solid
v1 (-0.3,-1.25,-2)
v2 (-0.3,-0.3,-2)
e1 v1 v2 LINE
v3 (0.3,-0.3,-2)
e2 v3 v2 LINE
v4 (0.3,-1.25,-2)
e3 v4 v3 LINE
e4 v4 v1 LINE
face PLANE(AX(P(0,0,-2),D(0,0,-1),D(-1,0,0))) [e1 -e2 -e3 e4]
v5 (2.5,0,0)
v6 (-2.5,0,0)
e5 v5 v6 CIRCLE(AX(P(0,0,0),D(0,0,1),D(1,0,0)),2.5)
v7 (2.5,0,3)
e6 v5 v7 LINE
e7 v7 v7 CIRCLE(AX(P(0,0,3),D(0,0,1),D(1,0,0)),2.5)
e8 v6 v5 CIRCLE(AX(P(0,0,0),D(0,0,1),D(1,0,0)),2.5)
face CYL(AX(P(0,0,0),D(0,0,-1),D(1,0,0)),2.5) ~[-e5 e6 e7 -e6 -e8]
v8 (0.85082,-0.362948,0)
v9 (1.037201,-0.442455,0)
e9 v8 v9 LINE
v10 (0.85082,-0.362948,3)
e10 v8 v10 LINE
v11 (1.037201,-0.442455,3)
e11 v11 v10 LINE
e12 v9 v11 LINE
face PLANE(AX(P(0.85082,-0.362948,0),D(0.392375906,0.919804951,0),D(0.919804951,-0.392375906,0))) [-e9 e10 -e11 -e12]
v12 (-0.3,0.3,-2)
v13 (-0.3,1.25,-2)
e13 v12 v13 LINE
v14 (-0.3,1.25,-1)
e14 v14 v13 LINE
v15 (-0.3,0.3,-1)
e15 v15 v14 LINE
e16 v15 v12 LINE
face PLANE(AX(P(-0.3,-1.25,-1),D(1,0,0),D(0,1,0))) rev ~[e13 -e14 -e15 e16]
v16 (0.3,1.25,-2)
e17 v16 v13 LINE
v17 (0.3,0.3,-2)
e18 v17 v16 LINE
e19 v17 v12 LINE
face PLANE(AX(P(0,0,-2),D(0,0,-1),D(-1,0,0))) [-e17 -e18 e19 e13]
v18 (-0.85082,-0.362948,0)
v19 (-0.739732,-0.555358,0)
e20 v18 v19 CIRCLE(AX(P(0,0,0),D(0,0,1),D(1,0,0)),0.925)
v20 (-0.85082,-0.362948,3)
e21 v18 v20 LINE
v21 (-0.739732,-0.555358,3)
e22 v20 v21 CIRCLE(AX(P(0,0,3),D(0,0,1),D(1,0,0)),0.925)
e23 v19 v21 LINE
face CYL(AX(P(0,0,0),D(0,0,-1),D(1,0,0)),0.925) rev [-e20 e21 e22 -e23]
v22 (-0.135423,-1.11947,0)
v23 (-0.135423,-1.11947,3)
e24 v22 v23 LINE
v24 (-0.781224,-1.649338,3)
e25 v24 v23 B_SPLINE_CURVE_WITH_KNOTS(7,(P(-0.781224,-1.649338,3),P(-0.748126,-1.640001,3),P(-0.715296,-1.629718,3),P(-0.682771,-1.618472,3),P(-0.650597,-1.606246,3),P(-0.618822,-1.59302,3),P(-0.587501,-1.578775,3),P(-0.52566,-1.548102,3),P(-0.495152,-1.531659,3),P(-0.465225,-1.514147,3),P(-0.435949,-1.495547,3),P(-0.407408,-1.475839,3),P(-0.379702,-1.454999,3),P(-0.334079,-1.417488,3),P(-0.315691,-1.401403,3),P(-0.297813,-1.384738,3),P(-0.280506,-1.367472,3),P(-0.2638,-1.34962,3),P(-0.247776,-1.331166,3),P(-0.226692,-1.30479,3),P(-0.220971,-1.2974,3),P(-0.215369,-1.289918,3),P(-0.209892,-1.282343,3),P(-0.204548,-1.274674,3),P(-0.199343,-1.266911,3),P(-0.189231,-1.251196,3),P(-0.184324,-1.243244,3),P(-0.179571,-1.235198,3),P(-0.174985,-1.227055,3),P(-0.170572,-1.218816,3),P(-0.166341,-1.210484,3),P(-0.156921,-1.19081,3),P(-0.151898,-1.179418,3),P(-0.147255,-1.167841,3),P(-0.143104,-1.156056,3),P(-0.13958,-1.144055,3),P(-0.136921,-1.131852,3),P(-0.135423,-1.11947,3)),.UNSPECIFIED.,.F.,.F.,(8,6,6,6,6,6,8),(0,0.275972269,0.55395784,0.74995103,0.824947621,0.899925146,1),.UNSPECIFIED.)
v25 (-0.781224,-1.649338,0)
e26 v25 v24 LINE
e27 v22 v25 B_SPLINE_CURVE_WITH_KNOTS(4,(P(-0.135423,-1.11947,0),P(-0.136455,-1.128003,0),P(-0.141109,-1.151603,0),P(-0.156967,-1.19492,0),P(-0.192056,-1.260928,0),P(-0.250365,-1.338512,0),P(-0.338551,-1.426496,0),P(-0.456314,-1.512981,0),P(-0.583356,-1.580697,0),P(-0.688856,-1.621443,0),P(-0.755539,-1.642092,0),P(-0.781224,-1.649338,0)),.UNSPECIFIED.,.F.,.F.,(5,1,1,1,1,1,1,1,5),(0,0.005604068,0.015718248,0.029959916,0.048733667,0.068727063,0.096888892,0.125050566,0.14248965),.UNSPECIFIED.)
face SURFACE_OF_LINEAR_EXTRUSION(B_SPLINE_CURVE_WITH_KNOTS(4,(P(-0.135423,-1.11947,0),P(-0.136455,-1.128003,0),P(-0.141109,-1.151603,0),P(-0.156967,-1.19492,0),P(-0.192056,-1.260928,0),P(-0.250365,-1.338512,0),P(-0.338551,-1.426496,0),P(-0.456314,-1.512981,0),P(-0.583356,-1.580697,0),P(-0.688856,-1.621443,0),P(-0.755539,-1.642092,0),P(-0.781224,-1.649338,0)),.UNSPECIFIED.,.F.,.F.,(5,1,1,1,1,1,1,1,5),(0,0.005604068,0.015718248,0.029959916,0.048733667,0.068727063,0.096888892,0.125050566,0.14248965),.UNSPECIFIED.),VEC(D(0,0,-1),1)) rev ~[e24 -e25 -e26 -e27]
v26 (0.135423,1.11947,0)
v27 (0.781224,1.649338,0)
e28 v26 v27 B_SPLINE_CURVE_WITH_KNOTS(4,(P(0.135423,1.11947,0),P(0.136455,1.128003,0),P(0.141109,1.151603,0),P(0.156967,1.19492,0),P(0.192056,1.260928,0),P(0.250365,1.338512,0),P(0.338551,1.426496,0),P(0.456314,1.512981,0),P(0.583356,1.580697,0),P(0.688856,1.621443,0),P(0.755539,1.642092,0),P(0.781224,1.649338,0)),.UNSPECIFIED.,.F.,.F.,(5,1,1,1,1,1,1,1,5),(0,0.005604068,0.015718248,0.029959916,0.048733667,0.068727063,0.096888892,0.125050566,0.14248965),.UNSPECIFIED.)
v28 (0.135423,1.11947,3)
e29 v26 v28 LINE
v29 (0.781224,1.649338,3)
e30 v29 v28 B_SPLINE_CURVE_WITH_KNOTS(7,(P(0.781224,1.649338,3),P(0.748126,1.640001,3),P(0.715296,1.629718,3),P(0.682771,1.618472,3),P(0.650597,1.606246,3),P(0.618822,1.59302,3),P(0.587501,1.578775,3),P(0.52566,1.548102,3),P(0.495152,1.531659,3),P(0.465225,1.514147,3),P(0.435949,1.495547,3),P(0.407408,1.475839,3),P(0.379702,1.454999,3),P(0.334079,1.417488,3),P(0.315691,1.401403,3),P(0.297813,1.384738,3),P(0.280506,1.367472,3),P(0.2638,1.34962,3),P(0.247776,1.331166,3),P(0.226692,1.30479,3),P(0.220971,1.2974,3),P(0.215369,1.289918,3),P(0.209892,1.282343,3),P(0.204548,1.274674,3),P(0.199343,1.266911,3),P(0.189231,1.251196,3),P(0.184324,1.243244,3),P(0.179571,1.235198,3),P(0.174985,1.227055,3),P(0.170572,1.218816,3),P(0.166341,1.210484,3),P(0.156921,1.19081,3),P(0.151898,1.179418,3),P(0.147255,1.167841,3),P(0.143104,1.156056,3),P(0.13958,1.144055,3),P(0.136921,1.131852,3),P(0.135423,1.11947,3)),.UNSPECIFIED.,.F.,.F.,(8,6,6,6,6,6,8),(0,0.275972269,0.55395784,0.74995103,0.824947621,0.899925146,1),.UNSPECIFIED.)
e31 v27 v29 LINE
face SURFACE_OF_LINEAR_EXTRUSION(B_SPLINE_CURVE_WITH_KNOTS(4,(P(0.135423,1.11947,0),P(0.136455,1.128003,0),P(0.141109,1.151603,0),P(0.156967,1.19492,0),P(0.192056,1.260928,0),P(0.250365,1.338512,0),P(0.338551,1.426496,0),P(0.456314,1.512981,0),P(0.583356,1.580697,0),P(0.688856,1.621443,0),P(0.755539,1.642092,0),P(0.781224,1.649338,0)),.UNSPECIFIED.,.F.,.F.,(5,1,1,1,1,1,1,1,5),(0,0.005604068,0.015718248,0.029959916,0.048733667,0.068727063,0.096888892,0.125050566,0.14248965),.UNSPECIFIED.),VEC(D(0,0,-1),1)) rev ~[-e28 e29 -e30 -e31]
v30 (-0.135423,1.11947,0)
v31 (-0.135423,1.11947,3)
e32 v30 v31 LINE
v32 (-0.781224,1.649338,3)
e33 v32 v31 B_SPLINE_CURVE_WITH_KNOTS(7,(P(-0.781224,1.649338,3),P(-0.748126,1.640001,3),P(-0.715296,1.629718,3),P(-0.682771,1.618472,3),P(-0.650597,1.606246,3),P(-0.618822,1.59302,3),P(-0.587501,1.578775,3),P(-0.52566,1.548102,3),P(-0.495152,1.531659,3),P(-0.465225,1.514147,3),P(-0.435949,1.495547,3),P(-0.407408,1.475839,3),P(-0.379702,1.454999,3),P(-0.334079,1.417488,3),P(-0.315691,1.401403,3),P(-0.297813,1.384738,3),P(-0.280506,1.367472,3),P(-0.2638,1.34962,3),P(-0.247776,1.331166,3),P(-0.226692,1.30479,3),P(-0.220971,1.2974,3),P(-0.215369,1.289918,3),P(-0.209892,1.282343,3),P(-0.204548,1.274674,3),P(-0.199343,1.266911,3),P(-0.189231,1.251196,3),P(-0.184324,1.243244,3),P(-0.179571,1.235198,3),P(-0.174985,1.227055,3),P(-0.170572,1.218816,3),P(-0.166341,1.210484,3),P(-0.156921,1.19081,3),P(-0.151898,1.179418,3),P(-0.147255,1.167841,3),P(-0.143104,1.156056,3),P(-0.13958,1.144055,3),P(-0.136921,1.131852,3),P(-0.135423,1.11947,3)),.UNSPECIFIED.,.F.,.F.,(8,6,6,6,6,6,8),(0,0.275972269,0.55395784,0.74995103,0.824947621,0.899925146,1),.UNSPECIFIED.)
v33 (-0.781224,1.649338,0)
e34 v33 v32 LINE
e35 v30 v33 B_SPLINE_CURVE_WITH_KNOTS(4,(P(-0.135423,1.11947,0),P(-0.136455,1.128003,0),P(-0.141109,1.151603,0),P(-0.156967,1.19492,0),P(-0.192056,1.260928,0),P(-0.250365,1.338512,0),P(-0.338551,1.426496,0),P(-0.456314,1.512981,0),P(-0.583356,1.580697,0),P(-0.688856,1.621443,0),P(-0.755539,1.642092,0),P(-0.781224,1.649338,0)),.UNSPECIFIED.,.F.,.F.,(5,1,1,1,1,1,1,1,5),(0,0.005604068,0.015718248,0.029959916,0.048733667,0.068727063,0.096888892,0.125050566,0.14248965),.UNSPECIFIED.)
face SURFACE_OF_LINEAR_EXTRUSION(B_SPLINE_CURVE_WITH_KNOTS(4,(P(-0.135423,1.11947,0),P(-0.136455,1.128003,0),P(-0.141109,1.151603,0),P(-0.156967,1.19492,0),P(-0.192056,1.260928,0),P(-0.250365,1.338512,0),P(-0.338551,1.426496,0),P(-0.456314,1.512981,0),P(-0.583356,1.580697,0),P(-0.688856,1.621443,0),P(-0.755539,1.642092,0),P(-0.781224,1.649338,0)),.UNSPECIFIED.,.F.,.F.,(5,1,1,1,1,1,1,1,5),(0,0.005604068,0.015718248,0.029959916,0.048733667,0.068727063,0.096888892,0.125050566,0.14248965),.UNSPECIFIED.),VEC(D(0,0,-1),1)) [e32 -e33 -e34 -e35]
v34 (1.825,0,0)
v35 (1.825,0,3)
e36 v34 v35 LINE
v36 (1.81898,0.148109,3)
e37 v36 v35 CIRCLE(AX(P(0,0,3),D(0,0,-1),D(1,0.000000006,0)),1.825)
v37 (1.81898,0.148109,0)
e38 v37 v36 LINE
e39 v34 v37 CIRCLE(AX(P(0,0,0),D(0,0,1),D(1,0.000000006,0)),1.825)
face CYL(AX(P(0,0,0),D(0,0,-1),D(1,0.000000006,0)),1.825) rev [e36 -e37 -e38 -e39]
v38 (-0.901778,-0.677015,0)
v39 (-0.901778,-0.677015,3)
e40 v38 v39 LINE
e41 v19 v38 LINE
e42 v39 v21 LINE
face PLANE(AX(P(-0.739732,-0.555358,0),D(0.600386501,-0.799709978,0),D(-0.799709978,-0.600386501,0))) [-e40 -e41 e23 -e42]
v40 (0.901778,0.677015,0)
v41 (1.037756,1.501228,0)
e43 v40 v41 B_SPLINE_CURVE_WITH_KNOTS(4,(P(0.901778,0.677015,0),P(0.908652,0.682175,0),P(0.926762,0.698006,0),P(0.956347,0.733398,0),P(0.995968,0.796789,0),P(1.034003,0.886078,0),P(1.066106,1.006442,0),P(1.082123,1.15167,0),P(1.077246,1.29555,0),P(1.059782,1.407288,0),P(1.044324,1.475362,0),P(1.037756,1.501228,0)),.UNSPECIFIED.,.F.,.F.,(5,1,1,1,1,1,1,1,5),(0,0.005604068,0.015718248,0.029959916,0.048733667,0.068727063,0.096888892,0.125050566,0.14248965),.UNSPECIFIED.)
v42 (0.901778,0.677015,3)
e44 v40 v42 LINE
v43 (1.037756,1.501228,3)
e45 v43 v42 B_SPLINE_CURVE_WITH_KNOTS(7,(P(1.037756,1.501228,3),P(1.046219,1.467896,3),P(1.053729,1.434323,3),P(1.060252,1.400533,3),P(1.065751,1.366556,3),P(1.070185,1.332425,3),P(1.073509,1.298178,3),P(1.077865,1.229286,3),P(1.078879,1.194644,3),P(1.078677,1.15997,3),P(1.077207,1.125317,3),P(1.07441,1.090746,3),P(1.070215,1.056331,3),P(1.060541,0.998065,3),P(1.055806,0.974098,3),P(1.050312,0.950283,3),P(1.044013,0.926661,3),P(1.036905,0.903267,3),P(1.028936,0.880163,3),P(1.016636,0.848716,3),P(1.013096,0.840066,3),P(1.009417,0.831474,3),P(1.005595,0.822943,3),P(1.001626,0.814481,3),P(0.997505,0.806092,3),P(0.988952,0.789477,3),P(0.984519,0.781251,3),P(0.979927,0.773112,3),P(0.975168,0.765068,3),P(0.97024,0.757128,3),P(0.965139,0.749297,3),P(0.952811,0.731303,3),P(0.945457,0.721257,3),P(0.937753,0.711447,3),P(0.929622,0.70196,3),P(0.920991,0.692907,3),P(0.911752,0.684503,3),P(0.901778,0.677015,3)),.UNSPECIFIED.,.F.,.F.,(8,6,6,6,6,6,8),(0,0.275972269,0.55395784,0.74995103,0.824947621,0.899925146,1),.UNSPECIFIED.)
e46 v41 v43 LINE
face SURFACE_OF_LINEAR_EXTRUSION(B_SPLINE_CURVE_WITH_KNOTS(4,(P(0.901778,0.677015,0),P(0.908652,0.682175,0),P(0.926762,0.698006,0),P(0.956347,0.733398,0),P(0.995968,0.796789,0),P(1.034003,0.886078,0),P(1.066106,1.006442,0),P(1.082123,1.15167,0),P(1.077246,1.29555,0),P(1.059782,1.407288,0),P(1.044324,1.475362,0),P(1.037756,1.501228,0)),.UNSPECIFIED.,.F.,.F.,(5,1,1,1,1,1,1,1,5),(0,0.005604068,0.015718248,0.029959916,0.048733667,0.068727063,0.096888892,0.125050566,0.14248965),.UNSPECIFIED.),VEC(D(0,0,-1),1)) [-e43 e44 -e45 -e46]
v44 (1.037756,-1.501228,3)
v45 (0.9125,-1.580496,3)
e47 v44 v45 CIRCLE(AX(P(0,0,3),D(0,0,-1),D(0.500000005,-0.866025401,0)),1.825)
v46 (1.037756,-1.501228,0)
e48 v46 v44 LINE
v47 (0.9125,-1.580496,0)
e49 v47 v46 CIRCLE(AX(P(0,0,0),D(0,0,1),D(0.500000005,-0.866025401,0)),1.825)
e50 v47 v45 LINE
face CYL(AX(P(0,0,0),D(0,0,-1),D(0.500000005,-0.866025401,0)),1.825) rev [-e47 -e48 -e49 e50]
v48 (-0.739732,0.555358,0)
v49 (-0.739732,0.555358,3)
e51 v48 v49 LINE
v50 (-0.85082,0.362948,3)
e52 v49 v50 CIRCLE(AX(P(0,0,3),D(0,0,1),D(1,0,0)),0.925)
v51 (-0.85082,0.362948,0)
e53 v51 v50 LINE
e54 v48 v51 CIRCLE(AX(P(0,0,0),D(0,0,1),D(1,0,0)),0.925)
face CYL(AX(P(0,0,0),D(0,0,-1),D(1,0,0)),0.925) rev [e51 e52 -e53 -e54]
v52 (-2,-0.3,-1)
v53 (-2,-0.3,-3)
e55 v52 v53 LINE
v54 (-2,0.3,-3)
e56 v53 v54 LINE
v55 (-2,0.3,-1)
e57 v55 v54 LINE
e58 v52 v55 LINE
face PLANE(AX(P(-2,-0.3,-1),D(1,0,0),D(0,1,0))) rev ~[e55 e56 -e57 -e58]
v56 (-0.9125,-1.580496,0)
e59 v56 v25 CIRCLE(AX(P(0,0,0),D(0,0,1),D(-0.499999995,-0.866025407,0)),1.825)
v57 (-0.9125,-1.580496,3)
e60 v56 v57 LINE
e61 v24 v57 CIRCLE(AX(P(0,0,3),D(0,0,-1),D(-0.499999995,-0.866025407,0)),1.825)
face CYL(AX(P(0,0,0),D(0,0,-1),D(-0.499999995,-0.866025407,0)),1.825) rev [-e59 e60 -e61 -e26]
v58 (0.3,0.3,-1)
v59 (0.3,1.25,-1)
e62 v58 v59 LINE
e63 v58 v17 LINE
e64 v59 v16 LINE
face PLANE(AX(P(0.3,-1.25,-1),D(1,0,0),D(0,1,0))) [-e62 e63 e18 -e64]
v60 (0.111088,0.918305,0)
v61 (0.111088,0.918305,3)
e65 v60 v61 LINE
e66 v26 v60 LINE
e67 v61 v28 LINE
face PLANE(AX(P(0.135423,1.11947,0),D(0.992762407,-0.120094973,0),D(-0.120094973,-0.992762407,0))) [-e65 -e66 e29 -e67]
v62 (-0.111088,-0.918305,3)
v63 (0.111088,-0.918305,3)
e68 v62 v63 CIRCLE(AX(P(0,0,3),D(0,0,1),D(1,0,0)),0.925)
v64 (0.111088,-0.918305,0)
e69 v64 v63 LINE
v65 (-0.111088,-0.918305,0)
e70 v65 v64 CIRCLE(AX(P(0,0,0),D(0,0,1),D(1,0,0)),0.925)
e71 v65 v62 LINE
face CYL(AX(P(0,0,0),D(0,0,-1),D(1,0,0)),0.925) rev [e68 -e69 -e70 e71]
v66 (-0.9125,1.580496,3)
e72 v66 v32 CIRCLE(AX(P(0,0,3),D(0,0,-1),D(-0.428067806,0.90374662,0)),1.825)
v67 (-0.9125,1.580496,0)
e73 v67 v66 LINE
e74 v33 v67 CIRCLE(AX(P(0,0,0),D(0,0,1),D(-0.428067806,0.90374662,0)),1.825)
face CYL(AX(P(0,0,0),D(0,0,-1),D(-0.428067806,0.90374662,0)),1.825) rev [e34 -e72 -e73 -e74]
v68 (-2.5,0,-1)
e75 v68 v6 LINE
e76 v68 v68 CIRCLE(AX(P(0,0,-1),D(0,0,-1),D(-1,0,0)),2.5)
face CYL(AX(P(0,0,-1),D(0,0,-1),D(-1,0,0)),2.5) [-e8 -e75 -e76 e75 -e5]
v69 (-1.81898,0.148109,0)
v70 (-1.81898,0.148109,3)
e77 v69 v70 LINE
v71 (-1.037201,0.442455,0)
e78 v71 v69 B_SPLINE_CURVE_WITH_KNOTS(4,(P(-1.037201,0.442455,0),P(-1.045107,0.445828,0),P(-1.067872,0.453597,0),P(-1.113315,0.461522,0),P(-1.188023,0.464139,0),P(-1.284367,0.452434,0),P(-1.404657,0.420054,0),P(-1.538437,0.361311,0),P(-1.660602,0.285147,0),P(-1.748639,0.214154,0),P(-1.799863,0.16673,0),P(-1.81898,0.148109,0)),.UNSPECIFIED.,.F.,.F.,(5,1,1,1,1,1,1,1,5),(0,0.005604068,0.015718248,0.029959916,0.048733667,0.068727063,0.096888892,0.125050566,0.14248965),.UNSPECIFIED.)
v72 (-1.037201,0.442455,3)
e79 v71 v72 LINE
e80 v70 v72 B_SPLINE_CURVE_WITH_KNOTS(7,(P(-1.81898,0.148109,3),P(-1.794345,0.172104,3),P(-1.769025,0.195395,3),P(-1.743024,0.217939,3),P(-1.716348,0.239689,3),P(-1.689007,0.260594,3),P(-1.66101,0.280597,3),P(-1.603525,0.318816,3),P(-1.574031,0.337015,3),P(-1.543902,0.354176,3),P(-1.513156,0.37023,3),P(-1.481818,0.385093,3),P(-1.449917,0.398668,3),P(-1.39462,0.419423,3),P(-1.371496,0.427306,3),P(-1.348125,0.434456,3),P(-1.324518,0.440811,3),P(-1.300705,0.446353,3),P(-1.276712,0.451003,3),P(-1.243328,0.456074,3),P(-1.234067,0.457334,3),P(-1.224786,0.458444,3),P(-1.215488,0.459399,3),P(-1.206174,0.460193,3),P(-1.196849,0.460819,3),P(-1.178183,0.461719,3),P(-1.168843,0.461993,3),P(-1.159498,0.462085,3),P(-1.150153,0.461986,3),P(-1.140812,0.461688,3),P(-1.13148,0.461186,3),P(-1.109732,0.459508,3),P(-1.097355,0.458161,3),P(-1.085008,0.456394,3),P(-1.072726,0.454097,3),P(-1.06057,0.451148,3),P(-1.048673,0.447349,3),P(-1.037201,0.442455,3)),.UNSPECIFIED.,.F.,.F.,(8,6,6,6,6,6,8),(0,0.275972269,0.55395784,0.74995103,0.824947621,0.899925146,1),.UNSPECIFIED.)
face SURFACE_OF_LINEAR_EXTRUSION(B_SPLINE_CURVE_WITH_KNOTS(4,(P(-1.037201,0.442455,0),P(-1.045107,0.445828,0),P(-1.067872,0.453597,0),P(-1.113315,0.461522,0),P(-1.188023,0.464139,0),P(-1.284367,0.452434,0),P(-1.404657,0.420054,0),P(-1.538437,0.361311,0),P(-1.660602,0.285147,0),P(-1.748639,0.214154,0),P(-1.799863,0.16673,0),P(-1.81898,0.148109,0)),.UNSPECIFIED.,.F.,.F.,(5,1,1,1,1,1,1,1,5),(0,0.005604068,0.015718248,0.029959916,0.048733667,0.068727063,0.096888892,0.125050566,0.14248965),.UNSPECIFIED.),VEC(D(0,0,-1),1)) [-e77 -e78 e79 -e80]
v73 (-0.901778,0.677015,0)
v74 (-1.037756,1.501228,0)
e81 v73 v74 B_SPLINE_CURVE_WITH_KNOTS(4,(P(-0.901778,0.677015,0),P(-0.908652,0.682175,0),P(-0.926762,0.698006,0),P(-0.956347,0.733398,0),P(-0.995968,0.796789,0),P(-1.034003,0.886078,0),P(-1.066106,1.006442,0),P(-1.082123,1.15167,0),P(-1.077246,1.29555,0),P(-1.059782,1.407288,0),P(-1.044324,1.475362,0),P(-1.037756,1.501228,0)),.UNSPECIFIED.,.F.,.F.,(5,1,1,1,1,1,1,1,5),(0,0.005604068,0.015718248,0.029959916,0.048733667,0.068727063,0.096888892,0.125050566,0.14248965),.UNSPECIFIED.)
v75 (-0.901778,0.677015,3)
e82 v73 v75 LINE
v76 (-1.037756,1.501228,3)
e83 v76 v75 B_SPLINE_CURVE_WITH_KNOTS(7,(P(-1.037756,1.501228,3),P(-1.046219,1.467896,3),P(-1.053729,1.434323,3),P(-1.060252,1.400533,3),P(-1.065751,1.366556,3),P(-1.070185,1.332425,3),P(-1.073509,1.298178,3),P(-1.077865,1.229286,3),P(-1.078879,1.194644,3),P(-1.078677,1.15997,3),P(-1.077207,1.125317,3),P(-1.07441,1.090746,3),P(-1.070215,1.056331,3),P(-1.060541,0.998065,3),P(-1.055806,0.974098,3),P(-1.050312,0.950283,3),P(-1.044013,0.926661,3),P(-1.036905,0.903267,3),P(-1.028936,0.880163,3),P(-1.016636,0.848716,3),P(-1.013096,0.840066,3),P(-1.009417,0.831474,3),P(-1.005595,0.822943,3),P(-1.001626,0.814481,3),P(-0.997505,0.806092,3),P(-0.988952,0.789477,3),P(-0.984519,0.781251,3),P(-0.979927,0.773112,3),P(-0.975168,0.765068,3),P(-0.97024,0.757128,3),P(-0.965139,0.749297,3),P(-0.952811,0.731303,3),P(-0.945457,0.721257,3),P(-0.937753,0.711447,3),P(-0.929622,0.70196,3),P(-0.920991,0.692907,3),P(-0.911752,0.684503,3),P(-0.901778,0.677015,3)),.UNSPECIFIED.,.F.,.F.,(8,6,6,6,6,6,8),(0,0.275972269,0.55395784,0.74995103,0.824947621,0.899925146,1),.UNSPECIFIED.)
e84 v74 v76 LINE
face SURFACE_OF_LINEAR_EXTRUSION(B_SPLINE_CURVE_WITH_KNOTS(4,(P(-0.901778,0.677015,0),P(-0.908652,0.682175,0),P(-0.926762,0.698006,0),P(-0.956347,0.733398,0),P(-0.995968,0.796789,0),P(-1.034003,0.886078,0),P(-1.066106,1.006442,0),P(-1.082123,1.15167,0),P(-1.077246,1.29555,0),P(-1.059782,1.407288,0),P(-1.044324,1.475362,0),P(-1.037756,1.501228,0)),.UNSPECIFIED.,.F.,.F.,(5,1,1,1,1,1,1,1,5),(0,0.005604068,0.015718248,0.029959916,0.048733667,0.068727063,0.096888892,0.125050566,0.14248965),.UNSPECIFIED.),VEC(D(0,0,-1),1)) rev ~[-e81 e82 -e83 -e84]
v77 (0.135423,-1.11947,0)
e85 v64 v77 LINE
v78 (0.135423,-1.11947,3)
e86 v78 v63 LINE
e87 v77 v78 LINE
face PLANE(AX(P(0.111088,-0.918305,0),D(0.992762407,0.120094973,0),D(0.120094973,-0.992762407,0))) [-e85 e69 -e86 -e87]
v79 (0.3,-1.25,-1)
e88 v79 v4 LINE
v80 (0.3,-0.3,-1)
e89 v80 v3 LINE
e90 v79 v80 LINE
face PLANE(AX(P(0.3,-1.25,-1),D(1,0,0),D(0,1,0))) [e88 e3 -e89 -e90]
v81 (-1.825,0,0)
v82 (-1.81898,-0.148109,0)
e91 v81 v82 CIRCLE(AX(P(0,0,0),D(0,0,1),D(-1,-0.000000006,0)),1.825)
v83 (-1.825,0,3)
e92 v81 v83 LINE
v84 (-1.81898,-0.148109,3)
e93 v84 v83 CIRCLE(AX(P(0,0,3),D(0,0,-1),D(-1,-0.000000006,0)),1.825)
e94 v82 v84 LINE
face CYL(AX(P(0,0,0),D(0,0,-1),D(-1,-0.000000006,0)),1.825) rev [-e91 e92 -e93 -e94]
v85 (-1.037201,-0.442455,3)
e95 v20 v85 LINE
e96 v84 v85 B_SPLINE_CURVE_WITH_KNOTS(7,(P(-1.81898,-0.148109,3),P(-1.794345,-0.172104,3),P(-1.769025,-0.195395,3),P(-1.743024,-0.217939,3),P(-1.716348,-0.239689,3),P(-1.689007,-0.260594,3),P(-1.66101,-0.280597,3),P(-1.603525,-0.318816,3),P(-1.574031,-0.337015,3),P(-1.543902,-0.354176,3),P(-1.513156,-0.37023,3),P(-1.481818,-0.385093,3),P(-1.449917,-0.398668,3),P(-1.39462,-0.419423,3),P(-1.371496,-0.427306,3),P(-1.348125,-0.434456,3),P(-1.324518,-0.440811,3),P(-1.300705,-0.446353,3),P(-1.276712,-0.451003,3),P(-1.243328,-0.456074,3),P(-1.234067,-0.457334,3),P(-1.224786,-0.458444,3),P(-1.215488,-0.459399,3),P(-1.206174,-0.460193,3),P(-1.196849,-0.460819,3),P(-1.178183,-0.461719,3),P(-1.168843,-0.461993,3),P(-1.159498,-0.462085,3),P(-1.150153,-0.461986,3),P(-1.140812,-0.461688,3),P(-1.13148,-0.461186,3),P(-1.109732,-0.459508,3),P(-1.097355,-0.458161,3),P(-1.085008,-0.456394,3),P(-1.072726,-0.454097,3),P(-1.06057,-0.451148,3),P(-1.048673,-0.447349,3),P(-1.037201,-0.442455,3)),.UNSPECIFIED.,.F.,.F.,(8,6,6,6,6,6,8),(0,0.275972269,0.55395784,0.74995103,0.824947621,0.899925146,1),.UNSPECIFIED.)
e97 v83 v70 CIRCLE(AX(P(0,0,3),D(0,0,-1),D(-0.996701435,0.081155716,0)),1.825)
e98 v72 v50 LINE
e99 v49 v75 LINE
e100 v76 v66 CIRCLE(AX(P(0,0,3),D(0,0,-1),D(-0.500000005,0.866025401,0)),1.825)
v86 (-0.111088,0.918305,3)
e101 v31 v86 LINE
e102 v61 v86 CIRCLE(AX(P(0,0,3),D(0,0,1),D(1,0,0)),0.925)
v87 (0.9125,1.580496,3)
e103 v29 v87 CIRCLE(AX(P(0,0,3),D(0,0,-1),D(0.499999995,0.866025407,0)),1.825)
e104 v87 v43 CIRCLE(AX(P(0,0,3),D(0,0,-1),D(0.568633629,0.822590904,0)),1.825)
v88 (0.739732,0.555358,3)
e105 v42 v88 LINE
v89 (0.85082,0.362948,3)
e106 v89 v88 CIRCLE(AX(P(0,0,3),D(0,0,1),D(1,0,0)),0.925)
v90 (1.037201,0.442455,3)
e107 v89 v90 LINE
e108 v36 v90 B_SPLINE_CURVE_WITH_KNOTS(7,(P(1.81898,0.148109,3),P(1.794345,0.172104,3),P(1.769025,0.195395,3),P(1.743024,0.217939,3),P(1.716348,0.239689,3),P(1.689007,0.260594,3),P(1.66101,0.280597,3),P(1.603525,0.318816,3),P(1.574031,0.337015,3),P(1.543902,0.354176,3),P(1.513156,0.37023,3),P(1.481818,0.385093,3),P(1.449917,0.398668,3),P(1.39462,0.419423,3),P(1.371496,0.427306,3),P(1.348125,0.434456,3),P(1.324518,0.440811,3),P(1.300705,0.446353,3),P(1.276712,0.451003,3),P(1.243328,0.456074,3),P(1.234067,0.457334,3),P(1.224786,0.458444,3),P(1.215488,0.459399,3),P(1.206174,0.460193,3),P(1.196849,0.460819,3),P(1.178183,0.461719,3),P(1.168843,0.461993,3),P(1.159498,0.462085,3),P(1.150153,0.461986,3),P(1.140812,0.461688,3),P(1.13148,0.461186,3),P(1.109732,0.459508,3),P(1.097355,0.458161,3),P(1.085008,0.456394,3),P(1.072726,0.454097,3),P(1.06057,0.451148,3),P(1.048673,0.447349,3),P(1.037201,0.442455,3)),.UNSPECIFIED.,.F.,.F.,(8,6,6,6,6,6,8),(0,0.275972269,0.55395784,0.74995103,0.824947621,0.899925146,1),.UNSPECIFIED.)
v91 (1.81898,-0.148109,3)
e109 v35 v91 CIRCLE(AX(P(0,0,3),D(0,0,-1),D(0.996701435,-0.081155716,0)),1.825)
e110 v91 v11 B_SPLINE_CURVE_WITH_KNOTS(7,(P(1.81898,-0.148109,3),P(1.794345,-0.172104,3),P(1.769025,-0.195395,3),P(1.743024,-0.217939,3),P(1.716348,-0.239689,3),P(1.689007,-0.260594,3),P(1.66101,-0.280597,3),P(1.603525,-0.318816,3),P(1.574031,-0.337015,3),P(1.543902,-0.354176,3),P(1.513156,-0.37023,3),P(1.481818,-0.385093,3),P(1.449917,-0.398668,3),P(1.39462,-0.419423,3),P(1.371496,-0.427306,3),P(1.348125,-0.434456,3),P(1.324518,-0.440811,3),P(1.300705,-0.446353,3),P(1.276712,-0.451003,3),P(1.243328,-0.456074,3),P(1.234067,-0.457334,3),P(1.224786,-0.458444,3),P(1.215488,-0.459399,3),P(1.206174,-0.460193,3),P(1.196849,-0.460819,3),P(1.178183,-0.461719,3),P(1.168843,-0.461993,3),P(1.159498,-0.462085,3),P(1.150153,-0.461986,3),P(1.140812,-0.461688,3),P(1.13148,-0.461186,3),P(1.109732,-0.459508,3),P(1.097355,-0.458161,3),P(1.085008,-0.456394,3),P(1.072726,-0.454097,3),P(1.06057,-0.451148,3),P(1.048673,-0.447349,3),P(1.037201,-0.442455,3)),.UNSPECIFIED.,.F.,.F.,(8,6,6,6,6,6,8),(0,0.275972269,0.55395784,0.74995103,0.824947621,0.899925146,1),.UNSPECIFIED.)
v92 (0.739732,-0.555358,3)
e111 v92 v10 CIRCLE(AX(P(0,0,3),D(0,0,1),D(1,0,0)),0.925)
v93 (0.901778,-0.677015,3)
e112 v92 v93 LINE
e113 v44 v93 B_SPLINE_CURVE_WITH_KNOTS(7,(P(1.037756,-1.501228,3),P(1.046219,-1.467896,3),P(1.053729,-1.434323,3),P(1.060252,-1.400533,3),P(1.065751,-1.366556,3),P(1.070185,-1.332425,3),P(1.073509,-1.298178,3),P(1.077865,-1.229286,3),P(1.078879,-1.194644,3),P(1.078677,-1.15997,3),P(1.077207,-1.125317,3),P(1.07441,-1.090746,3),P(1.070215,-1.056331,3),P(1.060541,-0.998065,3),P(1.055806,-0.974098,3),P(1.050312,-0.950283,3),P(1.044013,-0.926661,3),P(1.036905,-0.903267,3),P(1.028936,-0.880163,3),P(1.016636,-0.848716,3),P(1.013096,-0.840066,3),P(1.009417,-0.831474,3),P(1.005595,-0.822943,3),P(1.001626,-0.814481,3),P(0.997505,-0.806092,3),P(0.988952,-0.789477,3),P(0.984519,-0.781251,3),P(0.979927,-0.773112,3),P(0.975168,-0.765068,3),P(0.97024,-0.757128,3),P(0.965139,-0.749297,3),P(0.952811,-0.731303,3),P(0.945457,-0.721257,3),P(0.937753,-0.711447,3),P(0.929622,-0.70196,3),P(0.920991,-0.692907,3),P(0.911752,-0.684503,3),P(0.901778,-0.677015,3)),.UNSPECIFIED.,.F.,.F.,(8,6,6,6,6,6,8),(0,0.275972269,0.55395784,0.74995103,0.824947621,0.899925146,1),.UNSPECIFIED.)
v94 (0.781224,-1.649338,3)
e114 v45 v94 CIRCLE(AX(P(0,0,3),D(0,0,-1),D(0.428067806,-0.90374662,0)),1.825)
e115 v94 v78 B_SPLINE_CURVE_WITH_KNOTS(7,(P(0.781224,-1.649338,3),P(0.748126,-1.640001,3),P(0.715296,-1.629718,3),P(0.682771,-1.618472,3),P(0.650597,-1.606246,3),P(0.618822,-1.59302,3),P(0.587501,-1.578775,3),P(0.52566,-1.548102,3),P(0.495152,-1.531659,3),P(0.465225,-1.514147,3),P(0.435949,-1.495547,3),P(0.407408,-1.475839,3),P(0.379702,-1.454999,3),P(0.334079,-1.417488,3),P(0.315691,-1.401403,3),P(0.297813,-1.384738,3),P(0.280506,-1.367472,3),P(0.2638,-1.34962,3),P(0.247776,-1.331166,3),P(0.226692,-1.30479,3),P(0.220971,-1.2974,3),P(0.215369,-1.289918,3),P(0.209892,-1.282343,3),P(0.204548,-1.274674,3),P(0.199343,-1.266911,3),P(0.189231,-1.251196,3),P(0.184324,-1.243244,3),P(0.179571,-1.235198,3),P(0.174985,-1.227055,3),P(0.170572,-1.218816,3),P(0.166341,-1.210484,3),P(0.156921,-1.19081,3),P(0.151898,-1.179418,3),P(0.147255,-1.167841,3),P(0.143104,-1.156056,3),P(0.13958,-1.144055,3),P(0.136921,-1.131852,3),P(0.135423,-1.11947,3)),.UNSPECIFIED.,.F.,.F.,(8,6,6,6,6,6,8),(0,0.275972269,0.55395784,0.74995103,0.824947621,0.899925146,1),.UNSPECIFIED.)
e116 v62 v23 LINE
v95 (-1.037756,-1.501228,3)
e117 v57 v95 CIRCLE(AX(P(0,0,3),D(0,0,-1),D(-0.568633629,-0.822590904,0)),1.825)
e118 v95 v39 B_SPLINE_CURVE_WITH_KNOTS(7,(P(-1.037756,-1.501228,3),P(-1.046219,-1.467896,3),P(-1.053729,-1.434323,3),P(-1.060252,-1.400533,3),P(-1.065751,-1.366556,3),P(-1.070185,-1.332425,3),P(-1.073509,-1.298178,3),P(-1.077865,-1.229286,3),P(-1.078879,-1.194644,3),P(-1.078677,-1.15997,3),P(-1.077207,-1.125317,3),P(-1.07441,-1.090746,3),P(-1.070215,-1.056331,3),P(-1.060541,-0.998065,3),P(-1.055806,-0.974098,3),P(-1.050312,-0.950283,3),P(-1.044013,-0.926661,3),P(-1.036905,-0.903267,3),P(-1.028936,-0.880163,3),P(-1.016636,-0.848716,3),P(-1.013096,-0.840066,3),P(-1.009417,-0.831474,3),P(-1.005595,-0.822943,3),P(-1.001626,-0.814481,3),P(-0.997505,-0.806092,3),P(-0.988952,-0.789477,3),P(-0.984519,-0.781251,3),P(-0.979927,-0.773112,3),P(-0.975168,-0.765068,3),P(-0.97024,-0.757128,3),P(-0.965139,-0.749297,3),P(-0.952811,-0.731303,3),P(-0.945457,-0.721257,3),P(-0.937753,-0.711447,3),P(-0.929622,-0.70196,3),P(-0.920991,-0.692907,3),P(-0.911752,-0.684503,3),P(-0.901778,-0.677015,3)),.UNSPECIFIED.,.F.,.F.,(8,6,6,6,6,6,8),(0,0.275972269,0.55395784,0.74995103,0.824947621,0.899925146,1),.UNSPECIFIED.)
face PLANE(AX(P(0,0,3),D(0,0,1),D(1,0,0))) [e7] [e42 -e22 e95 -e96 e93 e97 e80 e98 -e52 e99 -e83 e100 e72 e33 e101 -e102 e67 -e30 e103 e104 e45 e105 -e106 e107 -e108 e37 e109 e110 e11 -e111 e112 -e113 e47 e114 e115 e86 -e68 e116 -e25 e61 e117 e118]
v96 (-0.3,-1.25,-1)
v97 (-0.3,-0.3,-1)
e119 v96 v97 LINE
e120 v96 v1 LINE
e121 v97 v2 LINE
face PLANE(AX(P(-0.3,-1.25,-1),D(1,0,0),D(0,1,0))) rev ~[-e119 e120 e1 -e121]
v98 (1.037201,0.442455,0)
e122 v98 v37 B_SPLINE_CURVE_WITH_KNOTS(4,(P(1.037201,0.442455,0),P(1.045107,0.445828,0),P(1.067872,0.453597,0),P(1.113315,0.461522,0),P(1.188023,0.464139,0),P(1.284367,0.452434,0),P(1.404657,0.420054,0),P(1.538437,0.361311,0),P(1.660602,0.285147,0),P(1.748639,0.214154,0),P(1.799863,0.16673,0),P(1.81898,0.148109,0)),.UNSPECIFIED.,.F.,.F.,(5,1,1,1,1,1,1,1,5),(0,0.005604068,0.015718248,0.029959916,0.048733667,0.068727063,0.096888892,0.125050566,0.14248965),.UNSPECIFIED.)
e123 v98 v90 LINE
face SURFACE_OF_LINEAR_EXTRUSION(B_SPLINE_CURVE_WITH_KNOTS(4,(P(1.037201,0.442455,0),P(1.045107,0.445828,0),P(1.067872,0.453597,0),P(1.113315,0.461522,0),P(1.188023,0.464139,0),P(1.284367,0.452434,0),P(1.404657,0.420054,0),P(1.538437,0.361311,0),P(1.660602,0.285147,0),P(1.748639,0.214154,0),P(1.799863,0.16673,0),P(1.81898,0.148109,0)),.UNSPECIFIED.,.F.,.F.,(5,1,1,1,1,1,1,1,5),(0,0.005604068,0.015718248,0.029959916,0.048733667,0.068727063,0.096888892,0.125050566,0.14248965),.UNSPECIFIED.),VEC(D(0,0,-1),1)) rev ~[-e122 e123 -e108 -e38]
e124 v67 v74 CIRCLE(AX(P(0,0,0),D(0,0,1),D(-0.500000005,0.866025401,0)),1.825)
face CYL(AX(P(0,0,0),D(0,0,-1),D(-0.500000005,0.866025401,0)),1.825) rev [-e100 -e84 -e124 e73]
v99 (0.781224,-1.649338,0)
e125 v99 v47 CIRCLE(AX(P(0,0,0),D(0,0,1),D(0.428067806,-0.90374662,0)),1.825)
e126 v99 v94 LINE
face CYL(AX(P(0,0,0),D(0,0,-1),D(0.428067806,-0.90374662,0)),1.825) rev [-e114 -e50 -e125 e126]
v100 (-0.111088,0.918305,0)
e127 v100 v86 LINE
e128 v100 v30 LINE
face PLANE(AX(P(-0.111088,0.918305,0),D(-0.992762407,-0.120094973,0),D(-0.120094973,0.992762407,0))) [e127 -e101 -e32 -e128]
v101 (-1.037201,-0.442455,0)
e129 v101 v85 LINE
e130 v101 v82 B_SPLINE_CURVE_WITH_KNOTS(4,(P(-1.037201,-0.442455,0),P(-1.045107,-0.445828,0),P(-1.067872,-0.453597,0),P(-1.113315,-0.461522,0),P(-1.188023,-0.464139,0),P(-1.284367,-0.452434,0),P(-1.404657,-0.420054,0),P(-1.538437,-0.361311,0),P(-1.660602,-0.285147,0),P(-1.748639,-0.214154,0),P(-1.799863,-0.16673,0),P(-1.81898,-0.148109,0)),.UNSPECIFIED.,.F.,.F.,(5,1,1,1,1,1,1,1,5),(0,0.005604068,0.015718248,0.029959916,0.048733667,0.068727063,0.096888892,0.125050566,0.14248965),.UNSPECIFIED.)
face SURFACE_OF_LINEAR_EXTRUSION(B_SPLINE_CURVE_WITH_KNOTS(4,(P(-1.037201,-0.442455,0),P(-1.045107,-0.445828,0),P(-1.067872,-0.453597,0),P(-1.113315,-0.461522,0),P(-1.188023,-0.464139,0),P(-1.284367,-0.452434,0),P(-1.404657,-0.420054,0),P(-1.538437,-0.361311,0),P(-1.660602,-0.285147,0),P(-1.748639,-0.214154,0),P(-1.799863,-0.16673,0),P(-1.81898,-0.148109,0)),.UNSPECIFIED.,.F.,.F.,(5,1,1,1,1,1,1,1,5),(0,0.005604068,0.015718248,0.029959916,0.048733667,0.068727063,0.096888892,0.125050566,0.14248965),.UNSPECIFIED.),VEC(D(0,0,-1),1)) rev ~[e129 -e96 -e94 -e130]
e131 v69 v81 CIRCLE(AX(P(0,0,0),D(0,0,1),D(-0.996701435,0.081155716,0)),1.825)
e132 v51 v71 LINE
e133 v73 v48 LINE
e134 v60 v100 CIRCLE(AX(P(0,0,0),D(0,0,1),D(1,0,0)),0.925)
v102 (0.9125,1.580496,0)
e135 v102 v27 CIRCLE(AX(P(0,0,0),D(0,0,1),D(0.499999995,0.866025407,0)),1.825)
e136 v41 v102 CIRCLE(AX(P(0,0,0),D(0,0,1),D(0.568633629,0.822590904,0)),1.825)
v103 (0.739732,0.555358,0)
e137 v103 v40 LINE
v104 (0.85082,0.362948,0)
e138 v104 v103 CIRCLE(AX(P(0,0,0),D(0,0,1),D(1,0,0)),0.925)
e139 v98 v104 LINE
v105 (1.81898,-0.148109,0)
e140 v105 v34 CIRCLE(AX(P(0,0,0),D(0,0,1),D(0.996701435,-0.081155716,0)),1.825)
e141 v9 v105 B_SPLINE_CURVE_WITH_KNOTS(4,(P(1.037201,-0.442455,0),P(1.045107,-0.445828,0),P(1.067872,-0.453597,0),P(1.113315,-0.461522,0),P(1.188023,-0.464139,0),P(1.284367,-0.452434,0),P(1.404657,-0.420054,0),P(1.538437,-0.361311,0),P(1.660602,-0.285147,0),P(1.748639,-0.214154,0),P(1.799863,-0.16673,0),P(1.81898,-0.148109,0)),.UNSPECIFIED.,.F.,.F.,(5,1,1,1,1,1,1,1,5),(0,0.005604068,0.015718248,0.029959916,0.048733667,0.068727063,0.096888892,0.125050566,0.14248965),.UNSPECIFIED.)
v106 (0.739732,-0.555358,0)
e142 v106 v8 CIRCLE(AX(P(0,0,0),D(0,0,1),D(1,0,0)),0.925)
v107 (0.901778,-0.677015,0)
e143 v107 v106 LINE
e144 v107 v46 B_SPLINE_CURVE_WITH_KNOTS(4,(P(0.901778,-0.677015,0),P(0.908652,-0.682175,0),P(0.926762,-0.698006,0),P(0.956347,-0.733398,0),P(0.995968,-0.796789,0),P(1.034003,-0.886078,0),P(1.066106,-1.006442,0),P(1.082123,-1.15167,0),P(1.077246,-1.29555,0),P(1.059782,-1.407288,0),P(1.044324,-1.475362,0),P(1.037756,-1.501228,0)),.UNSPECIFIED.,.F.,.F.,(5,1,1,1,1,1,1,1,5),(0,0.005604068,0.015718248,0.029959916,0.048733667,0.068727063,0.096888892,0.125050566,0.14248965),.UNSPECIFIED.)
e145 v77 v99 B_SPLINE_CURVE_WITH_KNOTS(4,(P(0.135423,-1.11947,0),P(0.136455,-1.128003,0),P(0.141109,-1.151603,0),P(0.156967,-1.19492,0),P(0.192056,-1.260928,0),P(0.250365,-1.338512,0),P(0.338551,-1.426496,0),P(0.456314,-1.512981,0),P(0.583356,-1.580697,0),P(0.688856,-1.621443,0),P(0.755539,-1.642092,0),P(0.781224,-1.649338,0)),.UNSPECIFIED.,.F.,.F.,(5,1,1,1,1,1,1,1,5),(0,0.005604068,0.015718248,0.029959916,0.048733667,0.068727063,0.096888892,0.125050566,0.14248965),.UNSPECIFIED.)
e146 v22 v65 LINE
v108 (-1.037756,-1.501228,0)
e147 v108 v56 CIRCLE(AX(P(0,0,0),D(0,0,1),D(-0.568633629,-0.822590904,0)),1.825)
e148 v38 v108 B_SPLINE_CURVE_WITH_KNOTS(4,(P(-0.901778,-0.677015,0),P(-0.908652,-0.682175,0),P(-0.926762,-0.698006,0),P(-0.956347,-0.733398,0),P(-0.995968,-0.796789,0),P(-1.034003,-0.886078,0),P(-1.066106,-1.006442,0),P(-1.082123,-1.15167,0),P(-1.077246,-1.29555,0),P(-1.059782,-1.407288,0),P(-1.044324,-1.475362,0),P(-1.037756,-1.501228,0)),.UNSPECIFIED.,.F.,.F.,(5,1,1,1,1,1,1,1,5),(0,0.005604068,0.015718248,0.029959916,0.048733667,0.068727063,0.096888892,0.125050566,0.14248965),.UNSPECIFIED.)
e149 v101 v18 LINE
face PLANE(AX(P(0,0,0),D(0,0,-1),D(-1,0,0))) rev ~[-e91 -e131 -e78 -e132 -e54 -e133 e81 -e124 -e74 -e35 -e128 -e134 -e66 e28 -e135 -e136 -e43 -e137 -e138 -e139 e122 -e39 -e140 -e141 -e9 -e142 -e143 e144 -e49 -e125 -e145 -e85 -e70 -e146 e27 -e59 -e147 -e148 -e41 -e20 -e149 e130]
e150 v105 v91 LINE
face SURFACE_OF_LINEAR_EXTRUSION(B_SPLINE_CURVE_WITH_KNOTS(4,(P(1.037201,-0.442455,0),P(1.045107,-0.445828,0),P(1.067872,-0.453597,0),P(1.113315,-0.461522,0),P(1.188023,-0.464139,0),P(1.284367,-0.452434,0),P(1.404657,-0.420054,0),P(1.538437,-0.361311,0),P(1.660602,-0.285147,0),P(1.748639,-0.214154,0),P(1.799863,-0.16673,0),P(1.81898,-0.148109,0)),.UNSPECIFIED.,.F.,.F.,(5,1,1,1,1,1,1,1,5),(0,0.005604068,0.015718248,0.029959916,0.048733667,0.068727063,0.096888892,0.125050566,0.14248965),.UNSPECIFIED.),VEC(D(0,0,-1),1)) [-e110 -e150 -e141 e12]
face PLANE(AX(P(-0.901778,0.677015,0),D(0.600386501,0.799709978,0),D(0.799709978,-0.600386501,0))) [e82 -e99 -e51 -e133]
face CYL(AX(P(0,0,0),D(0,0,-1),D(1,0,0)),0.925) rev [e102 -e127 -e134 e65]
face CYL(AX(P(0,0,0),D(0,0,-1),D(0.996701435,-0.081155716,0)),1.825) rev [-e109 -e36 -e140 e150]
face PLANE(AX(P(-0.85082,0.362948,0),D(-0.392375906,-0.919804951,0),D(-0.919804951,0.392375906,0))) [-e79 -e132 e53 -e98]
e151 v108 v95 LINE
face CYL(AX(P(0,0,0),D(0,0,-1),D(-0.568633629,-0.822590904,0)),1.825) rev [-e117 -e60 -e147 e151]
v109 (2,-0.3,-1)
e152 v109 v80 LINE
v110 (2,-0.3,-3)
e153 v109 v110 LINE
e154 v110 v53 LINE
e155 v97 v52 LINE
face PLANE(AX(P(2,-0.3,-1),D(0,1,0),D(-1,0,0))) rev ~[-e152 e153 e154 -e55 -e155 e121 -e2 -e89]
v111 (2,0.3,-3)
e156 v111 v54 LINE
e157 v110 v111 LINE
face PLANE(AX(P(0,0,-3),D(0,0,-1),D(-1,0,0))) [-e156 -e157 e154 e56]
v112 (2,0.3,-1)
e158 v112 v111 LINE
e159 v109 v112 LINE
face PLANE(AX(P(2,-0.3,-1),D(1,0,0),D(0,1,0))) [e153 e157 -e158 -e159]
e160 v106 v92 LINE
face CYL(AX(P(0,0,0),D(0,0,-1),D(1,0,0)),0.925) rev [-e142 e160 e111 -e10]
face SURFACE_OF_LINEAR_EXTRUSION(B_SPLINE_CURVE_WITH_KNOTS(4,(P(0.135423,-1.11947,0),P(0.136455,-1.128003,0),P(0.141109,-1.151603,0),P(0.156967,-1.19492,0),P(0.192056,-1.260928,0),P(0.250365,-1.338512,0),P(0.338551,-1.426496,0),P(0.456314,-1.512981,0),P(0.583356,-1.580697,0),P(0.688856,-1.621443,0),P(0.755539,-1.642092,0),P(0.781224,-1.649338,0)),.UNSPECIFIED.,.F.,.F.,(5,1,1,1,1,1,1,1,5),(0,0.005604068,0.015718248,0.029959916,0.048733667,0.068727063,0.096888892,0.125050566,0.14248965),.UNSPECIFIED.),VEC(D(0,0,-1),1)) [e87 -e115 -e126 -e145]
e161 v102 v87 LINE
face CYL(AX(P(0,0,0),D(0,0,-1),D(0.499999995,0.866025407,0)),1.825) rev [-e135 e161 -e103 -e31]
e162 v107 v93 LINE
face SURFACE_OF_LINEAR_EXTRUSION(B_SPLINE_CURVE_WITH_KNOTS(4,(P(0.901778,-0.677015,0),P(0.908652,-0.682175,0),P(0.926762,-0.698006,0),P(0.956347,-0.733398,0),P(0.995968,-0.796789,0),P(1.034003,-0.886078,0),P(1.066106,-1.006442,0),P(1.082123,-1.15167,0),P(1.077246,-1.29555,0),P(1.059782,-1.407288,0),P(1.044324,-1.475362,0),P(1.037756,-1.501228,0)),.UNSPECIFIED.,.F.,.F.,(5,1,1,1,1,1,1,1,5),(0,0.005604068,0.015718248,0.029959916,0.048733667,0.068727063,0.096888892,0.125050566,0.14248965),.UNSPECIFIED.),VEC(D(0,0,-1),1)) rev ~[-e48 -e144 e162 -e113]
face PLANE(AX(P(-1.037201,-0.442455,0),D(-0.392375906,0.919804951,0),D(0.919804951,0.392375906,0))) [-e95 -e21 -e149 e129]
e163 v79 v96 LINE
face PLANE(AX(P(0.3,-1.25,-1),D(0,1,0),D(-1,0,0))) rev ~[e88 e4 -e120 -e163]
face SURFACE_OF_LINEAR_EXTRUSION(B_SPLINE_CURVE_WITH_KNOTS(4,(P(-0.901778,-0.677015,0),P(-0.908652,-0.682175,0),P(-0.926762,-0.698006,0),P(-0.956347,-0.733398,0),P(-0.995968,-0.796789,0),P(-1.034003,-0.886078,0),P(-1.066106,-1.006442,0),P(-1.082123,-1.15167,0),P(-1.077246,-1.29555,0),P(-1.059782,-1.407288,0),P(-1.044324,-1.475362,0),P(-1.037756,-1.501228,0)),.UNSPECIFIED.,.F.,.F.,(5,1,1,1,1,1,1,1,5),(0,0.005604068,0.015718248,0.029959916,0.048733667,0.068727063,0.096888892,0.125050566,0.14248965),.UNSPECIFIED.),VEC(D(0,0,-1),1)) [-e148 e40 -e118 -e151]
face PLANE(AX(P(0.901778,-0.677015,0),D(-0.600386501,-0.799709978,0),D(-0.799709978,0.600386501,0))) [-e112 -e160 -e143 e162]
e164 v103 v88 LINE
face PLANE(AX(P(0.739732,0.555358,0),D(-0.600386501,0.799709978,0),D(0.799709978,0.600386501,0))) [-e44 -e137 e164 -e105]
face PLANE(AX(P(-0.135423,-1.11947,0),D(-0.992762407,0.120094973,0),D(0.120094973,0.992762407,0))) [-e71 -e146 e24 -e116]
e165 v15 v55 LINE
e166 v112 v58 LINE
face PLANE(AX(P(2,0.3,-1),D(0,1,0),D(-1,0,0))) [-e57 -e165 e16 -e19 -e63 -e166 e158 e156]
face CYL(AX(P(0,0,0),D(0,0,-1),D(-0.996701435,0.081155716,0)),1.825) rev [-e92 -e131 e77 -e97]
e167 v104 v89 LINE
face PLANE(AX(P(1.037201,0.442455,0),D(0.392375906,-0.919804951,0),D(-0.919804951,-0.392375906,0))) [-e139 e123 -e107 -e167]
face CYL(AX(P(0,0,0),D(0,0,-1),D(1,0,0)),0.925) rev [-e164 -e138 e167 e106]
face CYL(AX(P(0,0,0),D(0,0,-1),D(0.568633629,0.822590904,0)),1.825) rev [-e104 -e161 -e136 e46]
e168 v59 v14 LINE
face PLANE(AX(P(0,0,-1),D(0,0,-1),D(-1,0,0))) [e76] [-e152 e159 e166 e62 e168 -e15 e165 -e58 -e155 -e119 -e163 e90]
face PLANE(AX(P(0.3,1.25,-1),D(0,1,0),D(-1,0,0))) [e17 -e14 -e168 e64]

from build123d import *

# Parameters (mm, degrees)
SKETCH_1_R               = 2.5
SKETCH_1_R_2             = 0.925
EXTRUDE_1_DEPTH          = 3
CUT_EXTRUDE_2_DEPTH      = 5.636809248
PATTERN_CIRCULAR_1_COUNT = 6
EXTRUDE_START            = 1
SKETCH_2_R               = 2.5
EXTRUDE_2_DEPTH          = 1
SKETCH_2_3_W             = 4
SKETCH_2_3_H             = 0.6
EXTRUDE_3_DEPTH          = 2
SKETCH_2_4_W             = 0.6
SKETCH_2_4_H             = 2.5
EXTRUDE_4_DEPTH          = 1


with BuildPart() as part:
    # 草图1 → 凸台-拉伸1 (new body)
    with BuildSketch(Plane.XY):
        Circle(SKETCH_1_R)
        Circle(SKETCH_1_R_2, mode=Mode.SUBTRACT)
    extrude(amount=EXTRUDE_1_DEPTH)

    # 草图1<3> → 切除-拉伸2 (cut, through all)
    with BuildSketch(Plane.XY):
        with BuildLine():
            Line((1.03720071, 0.442455292), (0.85081958, 0.362947713))
            ThreePointArc((0.85081958, 0.362947713), (0.906265169, 0.185225388), (0.925, 0))
            ThreePointArc((0.925, 0), (0.906265169, -0.185225388), (0.85081958, -0.362947713))
            Line((0.85081958, -0.362947713), (1.03720071, -0.442455292))
            add(Edge.make_bspline(
                [(1.03720071, -0.442455292), (1.04510701, -0.445828009), (1.067871965, -0.453596987), (1.113314547, -0.461522157), (1.188023144, -0.464138789), (1.284367459, -0.452433849), (1.404657298, -0.420054467), (1.538436606, -0.361310704), (1.660601931, -0.285147073), (1.748638649, -0.214154324), (1.79986288, -0.166729965), (1.818980117, -0.1481092)],
                knots=[0, 0, 0, 0, 0, 0.005604068, 0.015718248, 0.029959916, 0.048733667, 0.068727063, 0.096888892, 0.125050566, 0.14248965, 0.14248965, 0.14248965, 0.14248965, 0.14248965], degree=4))
            ThreePointArc((1.818980117, -0.1481092), (1.823494408, -0.074115744), (1.825, 0))
            ThreePointArc((1.825, 0), (1.823494408, 0.074115744), (1.818980117, 0.1481092))
            add(Edge.make_bspline(
                [(1.03720071, 0.442455292), (1.04510701, 0.445828009), (1.067871965, 0.453596987), (1.113314547, 0.461522157), (1.188023144, 0.464138789), (1.284367459, 0.452433849), (1.404657298, 0.420054467), (1.538436606, 0.361310704), (1.660601931, 0.285147073), (1.748638649, 0.214154324), (1.79986288, 0.166729965), (1.818980117, 0.1481092)],
                knots=[0, 0, 0, 0, 0, 0.005604068, 0.015718248, 0.029959916, 0.048733667, 0.068727063, 0.096888892, 0.125050566, 0.14248965, 0.14248965, 0.14248965, 0.14248965, 0.14248965], degree=4))
        make_face()
    cut_extrude_2 = extrude(amount=CUT_EXTRUDE_2_DEPTH, mode=Mode.SUBTRACT)

    # 阵列(圆周)1: 切除-拉伸2 ×6 about axis
    pattern_circular_1_axis = Axis((0, 0, 3), (0, 0, 1))
    for i in range(1, PATTERN_CIRCULAR_1_COUNT):
        add(cut_extrude_2.rotate(pattern_circular_1_axis, i * 360 / PATTERN_CIRCULAR_1_COUNT), mode=Mode.SUBTRACT)

    # 草图2 → 凸台-拉伸2 (add)
    with BuildSketch(Plane(origin=(0, 0, 0), x_dir=(-1, 0, 0), z_dir=(0, 0, -1)).offset(EXTRUDE_START)):
        Circle(SKETCH_2_R)
    extrude(amount=-EXTRUDE_2_DEPTH)

    # 草图2<3> → 凸台-拉伸3 (add)
    with BuildSketch(Plane(origin=(0, 0, 0), x_dir=(-1, 0, 0), z_dir=(0, 0, -1)).offset(EXTRUDE_START)):
        Rectangle(SKETCH_2_3_W, SKETCH_2_3_H)
    extrude(amount=EXTRUDE_3_DEPTH)

    # 草图2<4> → 凸台-拉伸4 (add)
    with BuildSketch(Plane(origin=(0, 0, 0), x_dir=(-1, 0, 0), z_dir=(0, 0, -1)).offset(EXTRUDE_START)):
        Rectangle(SKETCH_2_4_W, SKETCH_2_4_H)
    extrude(amount=EXTRUDE_4_DEPTH)


solid = part.part
